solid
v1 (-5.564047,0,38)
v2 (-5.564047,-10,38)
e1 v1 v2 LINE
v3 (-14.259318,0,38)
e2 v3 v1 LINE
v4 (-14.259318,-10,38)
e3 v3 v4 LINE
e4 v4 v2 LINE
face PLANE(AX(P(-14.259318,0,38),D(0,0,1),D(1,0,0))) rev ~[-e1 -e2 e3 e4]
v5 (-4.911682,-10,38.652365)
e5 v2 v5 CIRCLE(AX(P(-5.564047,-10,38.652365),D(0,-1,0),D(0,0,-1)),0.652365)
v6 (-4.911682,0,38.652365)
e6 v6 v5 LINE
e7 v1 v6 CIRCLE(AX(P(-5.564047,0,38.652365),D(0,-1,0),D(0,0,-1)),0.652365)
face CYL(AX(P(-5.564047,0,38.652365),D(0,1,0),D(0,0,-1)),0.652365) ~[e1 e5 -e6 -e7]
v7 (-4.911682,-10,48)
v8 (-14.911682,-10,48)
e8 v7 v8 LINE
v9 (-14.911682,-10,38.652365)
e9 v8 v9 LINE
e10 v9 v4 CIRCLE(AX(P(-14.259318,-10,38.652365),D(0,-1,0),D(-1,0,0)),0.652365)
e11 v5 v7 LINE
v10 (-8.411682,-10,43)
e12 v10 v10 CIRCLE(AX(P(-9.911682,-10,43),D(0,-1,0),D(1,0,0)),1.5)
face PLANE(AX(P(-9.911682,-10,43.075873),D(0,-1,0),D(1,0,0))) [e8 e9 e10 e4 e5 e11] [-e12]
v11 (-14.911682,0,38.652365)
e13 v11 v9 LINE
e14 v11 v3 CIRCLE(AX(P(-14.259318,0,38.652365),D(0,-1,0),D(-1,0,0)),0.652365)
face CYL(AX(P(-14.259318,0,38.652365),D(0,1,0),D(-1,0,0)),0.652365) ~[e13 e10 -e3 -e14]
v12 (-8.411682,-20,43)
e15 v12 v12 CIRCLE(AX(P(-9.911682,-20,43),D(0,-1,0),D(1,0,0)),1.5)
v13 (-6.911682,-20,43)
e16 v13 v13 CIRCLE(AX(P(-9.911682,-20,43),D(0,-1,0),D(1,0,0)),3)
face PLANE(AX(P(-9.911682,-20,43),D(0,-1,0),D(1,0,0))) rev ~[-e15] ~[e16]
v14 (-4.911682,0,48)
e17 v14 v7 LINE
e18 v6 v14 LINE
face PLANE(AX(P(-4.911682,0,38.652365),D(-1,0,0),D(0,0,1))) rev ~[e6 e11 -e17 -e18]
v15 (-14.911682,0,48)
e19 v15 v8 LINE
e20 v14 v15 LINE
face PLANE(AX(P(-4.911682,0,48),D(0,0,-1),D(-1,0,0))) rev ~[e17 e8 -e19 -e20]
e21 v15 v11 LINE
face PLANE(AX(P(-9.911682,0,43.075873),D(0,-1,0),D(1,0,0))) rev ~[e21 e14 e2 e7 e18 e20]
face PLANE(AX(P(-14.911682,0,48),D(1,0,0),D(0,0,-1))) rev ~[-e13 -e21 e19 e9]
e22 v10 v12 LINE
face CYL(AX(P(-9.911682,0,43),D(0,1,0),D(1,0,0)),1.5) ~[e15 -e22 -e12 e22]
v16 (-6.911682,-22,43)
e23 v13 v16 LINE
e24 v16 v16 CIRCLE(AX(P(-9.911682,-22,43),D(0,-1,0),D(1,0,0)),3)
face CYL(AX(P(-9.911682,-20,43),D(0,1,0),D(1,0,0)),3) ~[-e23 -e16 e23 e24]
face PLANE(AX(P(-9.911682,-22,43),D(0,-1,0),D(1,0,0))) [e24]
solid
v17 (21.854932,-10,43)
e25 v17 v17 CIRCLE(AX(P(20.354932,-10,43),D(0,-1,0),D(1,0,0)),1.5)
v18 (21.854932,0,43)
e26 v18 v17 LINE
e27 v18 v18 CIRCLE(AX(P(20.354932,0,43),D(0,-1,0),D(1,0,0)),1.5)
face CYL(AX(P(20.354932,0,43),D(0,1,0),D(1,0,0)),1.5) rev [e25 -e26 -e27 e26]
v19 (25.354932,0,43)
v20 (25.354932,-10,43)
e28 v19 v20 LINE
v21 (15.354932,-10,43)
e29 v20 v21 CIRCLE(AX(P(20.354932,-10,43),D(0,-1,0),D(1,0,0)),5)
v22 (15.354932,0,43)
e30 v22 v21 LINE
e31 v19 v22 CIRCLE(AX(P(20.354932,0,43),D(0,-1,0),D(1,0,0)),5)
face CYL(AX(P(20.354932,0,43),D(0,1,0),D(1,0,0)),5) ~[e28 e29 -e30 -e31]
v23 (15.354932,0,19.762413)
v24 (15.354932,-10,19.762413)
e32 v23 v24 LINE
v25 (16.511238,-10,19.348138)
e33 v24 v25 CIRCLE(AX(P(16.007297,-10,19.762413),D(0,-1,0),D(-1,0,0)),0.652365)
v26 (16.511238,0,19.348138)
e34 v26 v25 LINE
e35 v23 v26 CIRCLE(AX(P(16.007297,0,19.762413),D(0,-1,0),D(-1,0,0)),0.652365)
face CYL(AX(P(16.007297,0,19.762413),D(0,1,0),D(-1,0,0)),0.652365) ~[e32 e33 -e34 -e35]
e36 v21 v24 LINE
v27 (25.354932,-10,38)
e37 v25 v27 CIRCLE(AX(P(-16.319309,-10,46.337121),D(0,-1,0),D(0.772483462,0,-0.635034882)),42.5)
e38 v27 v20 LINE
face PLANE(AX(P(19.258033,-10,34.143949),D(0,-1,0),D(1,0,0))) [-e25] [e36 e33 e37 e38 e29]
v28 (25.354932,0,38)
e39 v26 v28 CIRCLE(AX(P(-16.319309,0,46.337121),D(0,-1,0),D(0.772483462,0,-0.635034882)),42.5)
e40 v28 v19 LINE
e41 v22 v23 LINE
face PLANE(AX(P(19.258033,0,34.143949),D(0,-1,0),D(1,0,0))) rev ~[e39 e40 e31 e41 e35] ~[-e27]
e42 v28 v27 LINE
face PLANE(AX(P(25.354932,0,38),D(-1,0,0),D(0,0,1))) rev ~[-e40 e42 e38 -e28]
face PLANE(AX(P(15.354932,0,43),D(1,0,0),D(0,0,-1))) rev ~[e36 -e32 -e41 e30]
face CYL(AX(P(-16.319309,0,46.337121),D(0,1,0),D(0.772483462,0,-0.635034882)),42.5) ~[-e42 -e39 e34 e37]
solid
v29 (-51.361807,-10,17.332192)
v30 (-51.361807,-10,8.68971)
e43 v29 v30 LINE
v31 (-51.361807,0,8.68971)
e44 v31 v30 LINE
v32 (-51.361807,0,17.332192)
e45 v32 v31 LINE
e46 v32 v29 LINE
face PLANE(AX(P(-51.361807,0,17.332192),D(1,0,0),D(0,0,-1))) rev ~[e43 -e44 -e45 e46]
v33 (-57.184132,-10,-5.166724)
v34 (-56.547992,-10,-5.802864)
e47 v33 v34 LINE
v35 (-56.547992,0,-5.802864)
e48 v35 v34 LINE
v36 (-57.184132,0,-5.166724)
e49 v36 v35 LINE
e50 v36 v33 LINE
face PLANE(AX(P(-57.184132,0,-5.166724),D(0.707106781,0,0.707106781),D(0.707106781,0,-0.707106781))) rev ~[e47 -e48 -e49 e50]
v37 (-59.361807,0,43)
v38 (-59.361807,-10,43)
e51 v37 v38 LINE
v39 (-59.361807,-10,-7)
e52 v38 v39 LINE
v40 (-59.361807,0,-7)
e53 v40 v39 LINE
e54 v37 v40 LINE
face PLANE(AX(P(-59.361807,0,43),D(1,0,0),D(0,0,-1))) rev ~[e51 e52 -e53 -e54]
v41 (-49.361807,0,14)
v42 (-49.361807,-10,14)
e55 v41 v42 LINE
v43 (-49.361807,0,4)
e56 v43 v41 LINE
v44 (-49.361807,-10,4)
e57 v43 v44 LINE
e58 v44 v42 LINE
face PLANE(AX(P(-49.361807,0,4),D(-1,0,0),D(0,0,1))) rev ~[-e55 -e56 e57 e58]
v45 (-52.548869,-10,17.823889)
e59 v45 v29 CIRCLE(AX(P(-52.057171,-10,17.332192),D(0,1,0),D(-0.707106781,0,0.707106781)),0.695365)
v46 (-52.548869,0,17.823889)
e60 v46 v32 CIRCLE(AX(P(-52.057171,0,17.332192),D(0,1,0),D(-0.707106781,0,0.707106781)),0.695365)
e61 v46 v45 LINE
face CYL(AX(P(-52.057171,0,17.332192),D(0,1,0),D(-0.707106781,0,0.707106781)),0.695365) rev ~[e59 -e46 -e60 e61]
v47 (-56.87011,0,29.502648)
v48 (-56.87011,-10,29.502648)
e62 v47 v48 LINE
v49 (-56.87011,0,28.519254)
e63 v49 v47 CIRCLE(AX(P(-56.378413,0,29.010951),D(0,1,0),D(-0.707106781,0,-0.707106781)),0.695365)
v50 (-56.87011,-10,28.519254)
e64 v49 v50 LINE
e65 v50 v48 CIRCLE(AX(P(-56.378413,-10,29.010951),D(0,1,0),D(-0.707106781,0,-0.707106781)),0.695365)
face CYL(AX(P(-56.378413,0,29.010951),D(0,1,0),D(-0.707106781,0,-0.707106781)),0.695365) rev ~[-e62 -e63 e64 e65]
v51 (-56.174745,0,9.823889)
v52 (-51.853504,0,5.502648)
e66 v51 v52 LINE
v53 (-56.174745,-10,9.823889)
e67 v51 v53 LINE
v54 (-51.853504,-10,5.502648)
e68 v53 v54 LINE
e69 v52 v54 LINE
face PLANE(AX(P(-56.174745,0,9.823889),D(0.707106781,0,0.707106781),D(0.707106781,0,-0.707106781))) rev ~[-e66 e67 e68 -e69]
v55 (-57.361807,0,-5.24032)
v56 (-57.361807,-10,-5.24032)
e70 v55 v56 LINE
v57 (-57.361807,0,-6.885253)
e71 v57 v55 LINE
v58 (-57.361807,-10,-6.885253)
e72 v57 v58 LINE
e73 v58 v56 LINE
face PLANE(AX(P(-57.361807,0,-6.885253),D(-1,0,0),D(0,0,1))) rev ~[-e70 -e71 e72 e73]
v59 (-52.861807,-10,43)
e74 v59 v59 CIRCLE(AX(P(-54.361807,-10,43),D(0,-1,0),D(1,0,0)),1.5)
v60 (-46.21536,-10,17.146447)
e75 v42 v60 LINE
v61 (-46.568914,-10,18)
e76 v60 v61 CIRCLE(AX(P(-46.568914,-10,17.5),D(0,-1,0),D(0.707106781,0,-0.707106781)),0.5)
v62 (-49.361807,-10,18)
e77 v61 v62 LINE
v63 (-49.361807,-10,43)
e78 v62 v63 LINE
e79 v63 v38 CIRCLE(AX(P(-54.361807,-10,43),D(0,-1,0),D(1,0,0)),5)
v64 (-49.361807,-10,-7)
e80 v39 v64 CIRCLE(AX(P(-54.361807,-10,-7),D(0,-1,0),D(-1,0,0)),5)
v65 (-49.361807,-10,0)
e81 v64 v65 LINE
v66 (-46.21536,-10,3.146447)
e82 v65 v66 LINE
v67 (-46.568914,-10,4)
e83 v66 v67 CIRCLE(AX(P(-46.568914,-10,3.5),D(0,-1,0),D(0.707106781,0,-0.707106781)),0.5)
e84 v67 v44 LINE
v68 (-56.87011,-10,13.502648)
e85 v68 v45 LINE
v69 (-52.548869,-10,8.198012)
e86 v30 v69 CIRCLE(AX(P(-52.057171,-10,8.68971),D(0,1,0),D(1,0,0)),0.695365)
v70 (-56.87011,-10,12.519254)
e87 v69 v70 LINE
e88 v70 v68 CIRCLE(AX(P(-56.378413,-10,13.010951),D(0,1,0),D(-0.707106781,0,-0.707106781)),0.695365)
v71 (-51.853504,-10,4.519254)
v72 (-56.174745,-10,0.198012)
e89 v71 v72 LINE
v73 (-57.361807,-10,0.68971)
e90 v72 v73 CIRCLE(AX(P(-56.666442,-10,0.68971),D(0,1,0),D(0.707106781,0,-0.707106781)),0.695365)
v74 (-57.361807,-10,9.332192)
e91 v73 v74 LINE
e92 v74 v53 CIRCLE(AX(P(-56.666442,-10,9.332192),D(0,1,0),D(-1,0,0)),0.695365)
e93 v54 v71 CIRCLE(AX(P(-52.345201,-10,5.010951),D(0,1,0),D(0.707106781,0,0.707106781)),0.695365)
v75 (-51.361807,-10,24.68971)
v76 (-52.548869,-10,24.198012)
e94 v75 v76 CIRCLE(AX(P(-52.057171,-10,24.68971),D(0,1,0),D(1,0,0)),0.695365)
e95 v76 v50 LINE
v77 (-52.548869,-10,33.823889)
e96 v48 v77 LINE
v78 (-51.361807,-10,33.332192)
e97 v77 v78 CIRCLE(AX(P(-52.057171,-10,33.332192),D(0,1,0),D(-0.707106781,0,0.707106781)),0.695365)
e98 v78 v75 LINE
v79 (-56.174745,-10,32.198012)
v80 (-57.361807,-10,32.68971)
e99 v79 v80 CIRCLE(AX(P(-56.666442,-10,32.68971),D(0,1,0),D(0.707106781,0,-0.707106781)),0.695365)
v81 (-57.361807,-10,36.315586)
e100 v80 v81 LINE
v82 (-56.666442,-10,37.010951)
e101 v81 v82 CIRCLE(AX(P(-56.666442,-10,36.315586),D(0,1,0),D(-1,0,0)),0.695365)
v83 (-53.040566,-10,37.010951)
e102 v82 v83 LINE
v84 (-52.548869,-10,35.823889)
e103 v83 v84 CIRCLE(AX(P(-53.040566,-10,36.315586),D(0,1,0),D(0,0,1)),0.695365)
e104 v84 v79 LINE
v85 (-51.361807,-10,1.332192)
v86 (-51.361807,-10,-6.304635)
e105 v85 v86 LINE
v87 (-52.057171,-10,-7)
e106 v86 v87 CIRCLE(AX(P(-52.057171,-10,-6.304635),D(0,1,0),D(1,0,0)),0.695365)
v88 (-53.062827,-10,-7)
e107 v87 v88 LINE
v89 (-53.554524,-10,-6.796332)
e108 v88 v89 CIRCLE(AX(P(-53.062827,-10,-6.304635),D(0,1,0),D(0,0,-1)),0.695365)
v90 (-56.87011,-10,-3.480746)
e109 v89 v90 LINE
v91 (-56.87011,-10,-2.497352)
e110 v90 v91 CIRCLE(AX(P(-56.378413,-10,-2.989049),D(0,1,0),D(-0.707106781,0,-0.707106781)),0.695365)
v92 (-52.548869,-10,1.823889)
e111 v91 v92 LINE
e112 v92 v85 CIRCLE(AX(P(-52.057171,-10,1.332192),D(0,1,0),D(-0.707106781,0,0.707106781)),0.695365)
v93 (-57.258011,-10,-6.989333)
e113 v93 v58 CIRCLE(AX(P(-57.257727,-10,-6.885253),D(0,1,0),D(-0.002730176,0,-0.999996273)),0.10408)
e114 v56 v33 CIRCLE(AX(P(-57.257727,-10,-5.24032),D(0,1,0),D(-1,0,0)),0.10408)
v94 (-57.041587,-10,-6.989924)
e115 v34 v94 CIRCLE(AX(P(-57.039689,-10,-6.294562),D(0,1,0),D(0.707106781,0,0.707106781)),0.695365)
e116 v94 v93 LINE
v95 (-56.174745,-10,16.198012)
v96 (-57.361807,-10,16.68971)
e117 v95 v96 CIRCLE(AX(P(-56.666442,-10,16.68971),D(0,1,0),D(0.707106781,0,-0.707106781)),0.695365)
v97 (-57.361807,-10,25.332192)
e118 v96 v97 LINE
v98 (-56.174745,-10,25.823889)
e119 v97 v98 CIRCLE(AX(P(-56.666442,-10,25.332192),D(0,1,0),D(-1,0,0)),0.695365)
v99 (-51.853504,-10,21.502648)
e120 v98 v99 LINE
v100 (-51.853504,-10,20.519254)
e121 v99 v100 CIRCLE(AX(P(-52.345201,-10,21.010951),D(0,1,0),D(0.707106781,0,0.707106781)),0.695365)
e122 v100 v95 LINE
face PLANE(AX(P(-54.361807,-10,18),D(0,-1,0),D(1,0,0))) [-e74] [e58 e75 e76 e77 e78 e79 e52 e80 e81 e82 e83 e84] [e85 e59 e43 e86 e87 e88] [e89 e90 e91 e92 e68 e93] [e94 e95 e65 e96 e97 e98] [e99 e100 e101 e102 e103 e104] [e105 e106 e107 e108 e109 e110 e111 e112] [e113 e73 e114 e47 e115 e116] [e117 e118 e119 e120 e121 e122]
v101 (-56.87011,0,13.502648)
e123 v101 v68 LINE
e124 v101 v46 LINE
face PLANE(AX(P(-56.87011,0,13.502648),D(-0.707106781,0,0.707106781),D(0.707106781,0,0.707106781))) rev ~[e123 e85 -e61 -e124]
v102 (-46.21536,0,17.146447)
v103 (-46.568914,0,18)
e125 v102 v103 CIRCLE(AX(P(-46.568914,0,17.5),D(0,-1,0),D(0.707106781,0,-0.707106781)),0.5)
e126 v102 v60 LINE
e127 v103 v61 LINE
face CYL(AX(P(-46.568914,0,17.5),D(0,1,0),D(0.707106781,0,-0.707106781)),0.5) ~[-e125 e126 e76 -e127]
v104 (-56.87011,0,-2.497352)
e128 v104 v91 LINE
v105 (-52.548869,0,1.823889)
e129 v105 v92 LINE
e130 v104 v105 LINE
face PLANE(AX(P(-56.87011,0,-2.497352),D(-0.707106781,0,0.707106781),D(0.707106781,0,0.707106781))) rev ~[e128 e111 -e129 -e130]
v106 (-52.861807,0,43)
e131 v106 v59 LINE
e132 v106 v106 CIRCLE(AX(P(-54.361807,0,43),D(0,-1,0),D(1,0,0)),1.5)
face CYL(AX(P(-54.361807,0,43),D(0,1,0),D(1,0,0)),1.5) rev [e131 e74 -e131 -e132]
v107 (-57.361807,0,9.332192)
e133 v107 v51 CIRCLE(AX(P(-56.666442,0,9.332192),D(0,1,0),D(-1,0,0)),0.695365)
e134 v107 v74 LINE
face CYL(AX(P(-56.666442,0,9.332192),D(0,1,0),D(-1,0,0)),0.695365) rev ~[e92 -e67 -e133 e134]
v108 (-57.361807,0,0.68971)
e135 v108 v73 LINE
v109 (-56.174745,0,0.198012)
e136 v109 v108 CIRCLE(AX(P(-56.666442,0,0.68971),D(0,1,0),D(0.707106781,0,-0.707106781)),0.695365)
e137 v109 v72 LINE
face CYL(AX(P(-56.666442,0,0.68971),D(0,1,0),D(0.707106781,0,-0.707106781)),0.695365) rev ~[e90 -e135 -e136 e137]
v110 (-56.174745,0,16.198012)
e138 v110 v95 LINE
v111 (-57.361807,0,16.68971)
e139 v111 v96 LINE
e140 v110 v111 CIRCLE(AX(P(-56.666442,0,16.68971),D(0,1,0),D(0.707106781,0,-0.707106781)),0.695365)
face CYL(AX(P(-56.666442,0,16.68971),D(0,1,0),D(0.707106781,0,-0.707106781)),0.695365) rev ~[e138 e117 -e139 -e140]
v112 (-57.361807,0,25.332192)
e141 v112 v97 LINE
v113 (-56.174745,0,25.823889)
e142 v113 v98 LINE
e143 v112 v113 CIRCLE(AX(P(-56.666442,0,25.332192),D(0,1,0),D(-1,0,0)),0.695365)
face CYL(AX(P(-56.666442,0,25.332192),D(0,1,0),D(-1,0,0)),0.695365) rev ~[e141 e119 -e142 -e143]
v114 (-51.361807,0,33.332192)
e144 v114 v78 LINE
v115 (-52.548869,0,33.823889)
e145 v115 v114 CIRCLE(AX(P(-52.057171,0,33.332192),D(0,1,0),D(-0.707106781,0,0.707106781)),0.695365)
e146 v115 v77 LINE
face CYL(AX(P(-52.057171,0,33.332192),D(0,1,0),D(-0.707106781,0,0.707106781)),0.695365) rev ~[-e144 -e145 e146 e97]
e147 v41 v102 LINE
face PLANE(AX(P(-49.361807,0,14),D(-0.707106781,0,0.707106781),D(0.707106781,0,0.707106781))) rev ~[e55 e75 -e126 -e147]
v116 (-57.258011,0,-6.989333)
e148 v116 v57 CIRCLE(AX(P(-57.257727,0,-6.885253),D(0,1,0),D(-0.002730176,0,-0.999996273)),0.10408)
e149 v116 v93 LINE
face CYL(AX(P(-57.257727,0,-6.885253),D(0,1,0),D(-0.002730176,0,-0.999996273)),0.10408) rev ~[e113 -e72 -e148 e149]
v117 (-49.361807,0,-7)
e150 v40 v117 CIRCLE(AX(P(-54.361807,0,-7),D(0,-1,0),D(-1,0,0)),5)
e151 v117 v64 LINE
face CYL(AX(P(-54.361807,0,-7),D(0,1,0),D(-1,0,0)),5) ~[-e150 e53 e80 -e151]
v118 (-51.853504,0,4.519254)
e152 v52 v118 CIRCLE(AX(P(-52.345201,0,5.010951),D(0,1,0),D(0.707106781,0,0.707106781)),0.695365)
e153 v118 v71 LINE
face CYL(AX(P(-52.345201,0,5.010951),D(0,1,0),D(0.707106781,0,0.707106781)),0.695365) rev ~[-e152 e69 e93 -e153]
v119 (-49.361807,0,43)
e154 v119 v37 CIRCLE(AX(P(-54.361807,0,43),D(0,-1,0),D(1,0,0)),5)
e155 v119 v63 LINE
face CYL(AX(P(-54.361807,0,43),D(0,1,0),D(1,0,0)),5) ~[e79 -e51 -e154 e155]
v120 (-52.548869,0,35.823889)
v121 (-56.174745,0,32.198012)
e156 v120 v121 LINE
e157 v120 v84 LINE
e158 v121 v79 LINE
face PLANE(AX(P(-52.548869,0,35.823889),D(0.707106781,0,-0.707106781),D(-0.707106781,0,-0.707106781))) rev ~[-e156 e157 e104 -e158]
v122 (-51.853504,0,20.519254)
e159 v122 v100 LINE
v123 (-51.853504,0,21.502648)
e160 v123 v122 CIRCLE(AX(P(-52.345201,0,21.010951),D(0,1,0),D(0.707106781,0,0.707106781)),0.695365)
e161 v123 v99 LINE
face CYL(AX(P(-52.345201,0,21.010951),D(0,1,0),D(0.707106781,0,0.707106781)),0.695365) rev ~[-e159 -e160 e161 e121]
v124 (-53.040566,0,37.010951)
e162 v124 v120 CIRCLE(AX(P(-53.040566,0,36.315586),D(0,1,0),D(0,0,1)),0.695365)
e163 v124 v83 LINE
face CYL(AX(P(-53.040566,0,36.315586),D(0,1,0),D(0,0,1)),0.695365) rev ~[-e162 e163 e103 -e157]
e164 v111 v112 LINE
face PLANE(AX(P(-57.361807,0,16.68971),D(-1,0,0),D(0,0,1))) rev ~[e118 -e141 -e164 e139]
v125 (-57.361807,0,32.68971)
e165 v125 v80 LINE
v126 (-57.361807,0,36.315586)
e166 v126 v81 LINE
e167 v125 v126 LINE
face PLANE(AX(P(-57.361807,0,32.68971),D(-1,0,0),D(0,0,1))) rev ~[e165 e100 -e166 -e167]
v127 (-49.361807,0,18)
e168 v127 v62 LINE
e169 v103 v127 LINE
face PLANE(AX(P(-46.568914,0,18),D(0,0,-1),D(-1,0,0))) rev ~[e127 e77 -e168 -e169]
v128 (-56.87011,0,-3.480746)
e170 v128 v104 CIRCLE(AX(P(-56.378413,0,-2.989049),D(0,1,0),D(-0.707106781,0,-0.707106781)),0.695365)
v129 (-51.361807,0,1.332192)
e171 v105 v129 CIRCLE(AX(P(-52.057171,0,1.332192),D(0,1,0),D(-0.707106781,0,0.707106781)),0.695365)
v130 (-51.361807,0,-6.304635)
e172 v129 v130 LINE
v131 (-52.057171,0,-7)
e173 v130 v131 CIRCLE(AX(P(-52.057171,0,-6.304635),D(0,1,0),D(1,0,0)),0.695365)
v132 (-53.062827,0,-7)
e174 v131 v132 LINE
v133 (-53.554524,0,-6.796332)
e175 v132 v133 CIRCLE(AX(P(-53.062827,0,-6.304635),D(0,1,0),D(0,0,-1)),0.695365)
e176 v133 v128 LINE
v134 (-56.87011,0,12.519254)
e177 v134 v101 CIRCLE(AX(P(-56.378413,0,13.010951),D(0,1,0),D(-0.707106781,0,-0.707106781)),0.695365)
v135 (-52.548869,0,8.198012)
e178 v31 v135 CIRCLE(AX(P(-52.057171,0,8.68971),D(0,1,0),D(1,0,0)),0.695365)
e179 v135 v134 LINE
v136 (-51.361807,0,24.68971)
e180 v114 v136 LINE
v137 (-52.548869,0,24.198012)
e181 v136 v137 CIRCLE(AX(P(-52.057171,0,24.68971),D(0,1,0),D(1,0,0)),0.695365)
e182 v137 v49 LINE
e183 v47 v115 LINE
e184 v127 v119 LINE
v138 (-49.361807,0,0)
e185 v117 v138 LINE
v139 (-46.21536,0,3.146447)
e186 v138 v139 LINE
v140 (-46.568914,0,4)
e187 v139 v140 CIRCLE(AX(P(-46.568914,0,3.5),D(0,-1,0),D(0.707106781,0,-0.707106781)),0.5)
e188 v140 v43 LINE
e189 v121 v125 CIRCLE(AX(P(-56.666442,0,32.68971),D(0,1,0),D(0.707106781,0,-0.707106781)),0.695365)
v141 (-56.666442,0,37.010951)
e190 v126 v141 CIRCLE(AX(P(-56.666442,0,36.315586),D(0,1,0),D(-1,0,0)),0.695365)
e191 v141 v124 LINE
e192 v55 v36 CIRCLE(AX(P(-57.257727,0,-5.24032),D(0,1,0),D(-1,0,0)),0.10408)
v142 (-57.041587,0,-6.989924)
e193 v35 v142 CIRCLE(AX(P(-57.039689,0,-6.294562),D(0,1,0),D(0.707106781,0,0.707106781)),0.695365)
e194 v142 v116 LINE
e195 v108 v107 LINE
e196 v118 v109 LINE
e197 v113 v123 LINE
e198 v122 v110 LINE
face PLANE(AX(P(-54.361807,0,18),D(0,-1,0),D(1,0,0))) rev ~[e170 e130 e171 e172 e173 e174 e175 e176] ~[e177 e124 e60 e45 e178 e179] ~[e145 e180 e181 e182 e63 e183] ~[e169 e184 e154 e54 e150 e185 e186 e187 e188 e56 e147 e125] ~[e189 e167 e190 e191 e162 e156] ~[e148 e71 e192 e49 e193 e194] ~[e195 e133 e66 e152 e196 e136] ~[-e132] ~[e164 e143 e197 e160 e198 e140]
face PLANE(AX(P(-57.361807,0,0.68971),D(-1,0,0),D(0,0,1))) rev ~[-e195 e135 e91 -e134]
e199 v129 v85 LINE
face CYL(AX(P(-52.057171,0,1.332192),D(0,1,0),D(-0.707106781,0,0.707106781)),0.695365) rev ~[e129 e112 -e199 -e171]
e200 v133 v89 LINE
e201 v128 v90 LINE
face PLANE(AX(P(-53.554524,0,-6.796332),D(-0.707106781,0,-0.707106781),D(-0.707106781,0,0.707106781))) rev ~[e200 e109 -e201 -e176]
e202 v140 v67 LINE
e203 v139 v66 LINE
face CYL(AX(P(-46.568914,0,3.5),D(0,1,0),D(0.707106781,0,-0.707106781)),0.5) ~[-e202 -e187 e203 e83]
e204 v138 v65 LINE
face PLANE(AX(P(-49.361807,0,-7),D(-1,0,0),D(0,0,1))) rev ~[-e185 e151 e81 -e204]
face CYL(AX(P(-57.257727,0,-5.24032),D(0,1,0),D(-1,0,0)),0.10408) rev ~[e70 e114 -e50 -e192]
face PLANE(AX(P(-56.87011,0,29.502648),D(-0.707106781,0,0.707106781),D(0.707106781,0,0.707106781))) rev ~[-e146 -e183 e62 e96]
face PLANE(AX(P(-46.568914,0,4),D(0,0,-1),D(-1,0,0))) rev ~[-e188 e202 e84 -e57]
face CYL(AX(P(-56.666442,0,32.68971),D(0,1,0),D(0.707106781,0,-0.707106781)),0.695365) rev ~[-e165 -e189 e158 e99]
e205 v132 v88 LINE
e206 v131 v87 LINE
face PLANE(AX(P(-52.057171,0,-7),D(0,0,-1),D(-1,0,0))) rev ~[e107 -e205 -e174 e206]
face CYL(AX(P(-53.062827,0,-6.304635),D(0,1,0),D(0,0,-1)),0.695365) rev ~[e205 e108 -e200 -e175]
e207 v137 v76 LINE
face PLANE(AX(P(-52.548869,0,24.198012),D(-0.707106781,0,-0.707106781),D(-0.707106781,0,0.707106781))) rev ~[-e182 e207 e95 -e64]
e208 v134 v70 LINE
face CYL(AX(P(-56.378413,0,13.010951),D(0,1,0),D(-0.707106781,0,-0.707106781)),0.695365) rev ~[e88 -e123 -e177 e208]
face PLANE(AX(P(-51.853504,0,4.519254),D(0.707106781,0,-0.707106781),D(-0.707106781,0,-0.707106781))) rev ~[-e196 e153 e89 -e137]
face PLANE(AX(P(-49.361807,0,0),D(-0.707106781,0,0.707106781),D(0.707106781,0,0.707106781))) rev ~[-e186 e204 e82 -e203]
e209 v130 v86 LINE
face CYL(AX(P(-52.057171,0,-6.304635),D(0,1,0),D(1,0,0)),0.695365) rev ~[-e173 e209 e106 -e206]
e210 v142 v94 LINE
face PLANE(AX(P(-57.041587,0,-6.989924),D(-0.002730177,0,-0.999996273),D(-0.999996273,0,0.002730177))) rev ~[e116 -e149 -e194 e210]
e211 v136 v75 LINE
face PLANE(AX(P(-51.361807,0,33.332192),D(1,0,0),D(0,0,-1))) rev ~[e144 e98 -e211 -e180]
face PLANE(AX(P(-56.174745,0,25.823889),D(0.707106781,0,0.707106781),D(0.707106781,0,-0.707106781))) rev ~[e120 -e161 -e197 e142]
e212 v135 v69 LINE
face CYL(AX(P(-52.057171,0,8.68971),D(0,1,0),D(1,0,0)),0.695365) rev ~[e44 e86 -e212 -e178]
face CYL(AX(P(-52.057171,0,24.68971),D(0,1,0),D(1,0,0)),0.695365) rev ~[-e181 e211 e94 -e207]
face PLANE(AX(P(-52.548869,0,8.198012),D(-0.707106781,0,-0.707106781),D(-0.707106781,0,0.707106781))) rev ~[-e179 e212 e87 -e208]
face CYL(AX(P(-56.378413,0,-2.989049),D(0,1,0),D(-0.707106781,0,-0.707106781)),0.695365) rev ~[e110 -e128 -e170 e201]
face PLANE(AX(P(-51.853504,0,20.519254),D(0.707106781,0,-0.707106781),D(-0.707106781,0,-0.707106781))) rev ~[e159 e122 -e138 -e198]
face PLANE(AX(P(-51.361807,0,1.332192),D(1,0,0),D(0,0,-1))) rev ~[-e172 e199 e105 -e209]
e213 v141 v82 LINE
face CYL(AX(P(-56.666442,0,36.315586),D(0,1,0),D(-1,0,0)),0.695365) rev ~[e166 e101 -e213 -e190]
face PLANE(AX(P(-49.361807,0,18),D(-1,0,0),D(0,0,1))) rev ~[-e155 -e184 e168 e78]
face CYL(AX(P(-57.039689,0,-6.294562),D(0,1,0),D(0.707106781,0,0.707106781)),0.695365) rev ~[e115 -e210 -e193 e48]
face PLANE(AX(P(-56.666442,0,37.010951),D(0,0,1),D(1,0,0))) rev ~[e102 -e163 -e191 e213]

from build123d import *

# Parameters (mm, degrees)
F0_R     = 1.5
F1_DEPTH = 10
F2_DEPTH = 10
F3_DEPTH = 20
F4_R     = 3
F4_R_2   = 1.5
F5_DEPTH = 2


with BuildPart() as f1:
    # F0 (on Front) → F1 (new body)
    with BuildSketch(Plane.XZ):
        with BuildLine():
            ThreePointArc((-49.3618067241, 43), (-54.3618067241, 48), (-59.3618067241, 43))
            Line((-59.3618067241, 43), (-59.3618067241, -7))
            ThreePointArc((-59.3618067241, -7), (-54.3618067241, -12), (-49.3618067241, -7))
            Line((-49.3618067241, -7), (-49.3618067241, 0))
            Line((-49.3618067241, 0), (-49.3618067241, 4))
            Line((-49.3618067241, 4), (-49.3618067241, 14))
            Line((-49.3618067241, 14), (-49.3618067241, 18))
            Line((-49.3618067241, 18), (-49.3618067241, 43))
        make_face()
        with BuildLine():
            ThreePointArc((-57.2580112192, -6.9893327339), (-57.3314228931, -6.958748362), (-57.3618067241, -6.8852534609))
            Line((-57.3618067241, -6.8852534609), (-57.3618067241, -5.2403198815))
            ThreePointArc((-57.3618067241, -5.2403198815), (-57.2975566251, -5.1441628131), (-57.1841316293, -5.1667244475))
            Line((-57.1841316293, -5.1667244475), (-56.5479916643, -5.8028644125))
            ThreePointArc((-56.5479916643, -5.8028644125), (-56.3976194008, -6.5615427862), (-57.0415872264, -6.989923612))
            Line((-57.0415872264, -6.989923612), (-57.2580112192, -6.9893327339))
        make_face(mode=Mode.SUBTRACT)
        with BuildLine():
            Line((-51.3618067241, 1.332191763), (-51.3618067241, -6.3046353022))
            ThreePointArc((-51.3618067241, -6.3046353022), (-51.5654743287, -6.7963323954), (-52.0571714219, -7))
            Line((-52.0571714219, -7), (-53.0628265882, -7))
            ThreePointArc((-53.0628265882, -7), (-53.3289311375, -6.9470685141), (-53.5545236814, -6.7963323954))
            Line((-53.5545236814, -6.7963323954), (-56.8701096309, -3.4807464459))
            ThreePointArc((-56.8701096309, -3.4807464459), (-57.0737772355, -2.9890493527), (-56.8701096309, -2.4973522595))
            Line((-56.8701096309, -2.4973522595), (-52.5488685151, 1.8238888563))
            ThreePointArc((-52.5488685151, 1.8238888563), (-51.7910668726, 1.974624975), (-51.3618067241, 1.332191763))
        make_face(mode=Mode.SUBTRACT)
        with BuildLine():
            Line((-56.1747449331, 9.8238888563), (-51.8535038173, 5.5026477405))
            ThreePointArc((-51.8535038173, 5.5026477405), (-51.6498362127, 5.0109506473), (-51.8535038173, 4.5192535541))
            Line((-51.8535038173, 4.5192535541), (-56.1747449331, 0.1980124383))
            ThreePointArc((-56.1747449331, 0.1980124383), (-56.9325465756, 0.0472763196), (-57.3618067241, 0.6897095315))
            Line((-57.3618067241, 0.6897095315), (-57.3618067241, 9.332191763))
            ThreePointArc((-57.3618067241, 9.332191763), (-56.9325465756, 9.974624975), (-56.1747449331, 9.8238888563))
        make_face(mode=Mode.SUBTRACT)
        with BuildLine():
            Line((-56.8701096309, 13.5026477405), (-52.5488685151, 17.8238888563))
            ThreePointArc((-52.5488685151, 17.8238888563), (-51.7910668726, 17.974624975), (-51.3618067241, 17.332191763))
            Line((-51.3618067241, 17.332191763), (-51.3618067241, 8.6897095315))
            ThreePointArc((-51.3618067241, 8.6897095315), (-51.7910668726, 8.0472763196), (-52.5488685151, 8.1980124383))
            Line((-52.5488685151, 8.1980124383), (-56.8701096309, 12.5192535541))
            ThreePointArc((-56.8701096309, 12.5192535541), (-57.0737772355, 13.0109506473), (-56.8701096309, 13.5026477405))
        make_face(mode=Mode.SUBTRACT)
        with BuildLine():
            ThreePointArc((-57.3618067241, 25.332191763), (-56.9325465756, 25.974624975), (-56.1747449331, 25.8238888563))
            Line((-56.1747449331, 25.8238888563), (-51.8535038173, 21.5026477405))
            ThreePointArc((-51.8535038173, 21.5026477405), (-51.6498362127, 21.0109506473), (-51.8535038173, 20.5192535541))
            Line((-51.8535038173, 20.5192535541), (-56.1747449331, 16.1980124383))
            ThreePointArc((-56.1747449331, 16.1980124383), (-56.9325465756, 16.0472763196), (-57.3618067241, 16.6897095315))
            Line((-57.3618067241, 16.6897095315), (-57.3618067241, 25.332191763))
        make_face(mode=Mode.SUBTRACT)
        with BuildLine():
            ThreePointArc((-56.8701096309, 28.5192535541), (-57.0737772355, 29.0109506473), (-56.8701096309, 29.5026477405))
            Line((-56.8701096309, 29.5026477405), (-52.5488685151, 33.8238888563))
            ThreePointArc((-52.5488685151, 33.8238888563), (-51.7910668726, 33.974624975), (-51.3618067241, 33.332191763))
            Line((-51.3618067241, 33.332191763), (-51.3618067241, 24.6897095315))
            ThreePointArc((-51.3618067241, 24.6897095315), (-51.7910668726, 24.0472763196), (-52.5488685151, 24.1980124383))
            Line((-52.5488685151, 24.1980124383), (-56.8701096309, 28.5192535541))
        make_face(mode=Mode.SUBTRACT)
        with BuildLine():
            ThreePointArc((-57.3618067241, 36.3155859495), (-57.1581391195, 36.8072830427), (-56.6664420263, 37.0109506473))
            Line((-56.6664420263, 37.0109506473), (-53.0405656084, 37.0109506473))
            ThreePointArc((-53.0405656084, 37.0109506473), (-52.3981323964, 36.5816904988), (-52.5488685151, 35.8238888563))
            Line((-52.5488685151, 35.8238888563), (-56.1747449331, 32.1980124383))
            ThreePointArc((-56.1747449331, 32.1980124383), (-56.9325465756, 32.0472763196), (-57.3618067241, 32.6897095315))
            Line((-57.3618067241, 32.6897095315), (-57.3618067241, 36.3155859495))
        make_face(mode=Mode.SUBTRACT)
        with Locations((-54.3618067241, 43)):
            Circle(F0_R, mode=Mode.SUBTRACT)
        with BuildLine():
            Line((-46.5689135053, 18), (-49.3618067241, 18))
            Line((-49.3618067241, 18), (-49.3618067241, 14))
            Line((-49.3618067241, 14), (-46.2153601147, 17.1464466094))
            ThreePointArc((-46.2153601147, 17.1464466094), (-46.106973739, 17.6913417162), (-46.5689135053, 18))
        make_face()
        with BuildLine():
            Line((-49.3618067241, 4), (-49.3618067241, 0))
            Line((-49.3618067241, 0), (-46.2153601147, 3.1464466094))
            ThreePointArc((-46.2153601147, 3.1464466094), (-46.106973739, 3.6913417162), (-46.5689135053, 4))
            Line((-46.5689135053, 4), (-49.3618067241, 4))
        make_face()
    extrude(amount=F1_DEPTH)


with BuildPart() as f2:
    # F0 (on Front) → F2 (new body)
    with BuildSketch(Plane.XZ):
        with BuildLine():
            Line((25.3549321741, 38), (25.3549321741, 43))
            ThreePointArc((25.3549321741, 43), (20.3549321741, 48), (15.3549321741, 43))
            Line((15.3549321741, 43), (15.3549321741, 38))
            Line((15.3549321741, 38), (15.3549321741, 19.7624126063))
            ThreePointArc((15.3549321741, 19.7624126063), (15.7872667899, 19.1482738745), (16.5112376477, 19.3481383261))
            ThreePointArc((16.5112376477, 19.3481383261), (22.0826940336, 28.1289872788), (25.3549321741, 38))
        make_face()
        with Locations((20.3549321741, 43)):
            Circle(F0_R, mode=Mode.SUBTRACT)
    extrude(amount=F2_DEPTH)


with BuildPart() as f2b:
    # F0 (on Front) → F2, piece 2 (new body)
    with BuildSketch(Plane.XZ):
        with BuildLine():
            Line((-4.9116824567, 48), (-14.9116824567, 48))
            Line((-14.9116824567, 48), (-14.9116824567, 38.6523646052))
            ThreePointArc((-14.9116824567, 38.6523646052), (-14.7206092877, 38.1910731691), (-14.2593178515, 38))
            Line((-14.2593178515, 38), (-5.5640470619, 38))
            ThreePointArc((-5.5640470619, 38), (-5.1027556258, 38.1910731691), (-4.9116824567, 38.6523646052))
            Line((-4.9116824567, 38.6523646052), (-4.9116824567, 48))
        make_face()
        with Locations((-9.9116824567, 43)):
            Circle(F0_R, mode=Mode.SUBTRACT)
    extrude(amount=F2_DEPTH)

    # F0 (on Front) → F3 (join)
    with BuildSketch(Plane.XZ):
        with Locations((-9.9116824567, 43)):
            Circle(F0_R)
    extrude(amount=F3_DEPTH)

    # F4 (on face) → F5 (join)
    with BuildSketch(Plane.XZ.offset(20)):
        with Locations((-9.9116824567, 43)):
            Circle(F4_R)
        with Locations((-9.9116824567, 43)):
            Circle(F4_R_2, mode=Mode.SUBTRACT)
        with Locations((-9.9116824567, 43)):
            Circle(F4_R_2)
    extrude(amount=F5_DEPTH)


solid = Compound([f1.part, f2.part, f2b.part])
